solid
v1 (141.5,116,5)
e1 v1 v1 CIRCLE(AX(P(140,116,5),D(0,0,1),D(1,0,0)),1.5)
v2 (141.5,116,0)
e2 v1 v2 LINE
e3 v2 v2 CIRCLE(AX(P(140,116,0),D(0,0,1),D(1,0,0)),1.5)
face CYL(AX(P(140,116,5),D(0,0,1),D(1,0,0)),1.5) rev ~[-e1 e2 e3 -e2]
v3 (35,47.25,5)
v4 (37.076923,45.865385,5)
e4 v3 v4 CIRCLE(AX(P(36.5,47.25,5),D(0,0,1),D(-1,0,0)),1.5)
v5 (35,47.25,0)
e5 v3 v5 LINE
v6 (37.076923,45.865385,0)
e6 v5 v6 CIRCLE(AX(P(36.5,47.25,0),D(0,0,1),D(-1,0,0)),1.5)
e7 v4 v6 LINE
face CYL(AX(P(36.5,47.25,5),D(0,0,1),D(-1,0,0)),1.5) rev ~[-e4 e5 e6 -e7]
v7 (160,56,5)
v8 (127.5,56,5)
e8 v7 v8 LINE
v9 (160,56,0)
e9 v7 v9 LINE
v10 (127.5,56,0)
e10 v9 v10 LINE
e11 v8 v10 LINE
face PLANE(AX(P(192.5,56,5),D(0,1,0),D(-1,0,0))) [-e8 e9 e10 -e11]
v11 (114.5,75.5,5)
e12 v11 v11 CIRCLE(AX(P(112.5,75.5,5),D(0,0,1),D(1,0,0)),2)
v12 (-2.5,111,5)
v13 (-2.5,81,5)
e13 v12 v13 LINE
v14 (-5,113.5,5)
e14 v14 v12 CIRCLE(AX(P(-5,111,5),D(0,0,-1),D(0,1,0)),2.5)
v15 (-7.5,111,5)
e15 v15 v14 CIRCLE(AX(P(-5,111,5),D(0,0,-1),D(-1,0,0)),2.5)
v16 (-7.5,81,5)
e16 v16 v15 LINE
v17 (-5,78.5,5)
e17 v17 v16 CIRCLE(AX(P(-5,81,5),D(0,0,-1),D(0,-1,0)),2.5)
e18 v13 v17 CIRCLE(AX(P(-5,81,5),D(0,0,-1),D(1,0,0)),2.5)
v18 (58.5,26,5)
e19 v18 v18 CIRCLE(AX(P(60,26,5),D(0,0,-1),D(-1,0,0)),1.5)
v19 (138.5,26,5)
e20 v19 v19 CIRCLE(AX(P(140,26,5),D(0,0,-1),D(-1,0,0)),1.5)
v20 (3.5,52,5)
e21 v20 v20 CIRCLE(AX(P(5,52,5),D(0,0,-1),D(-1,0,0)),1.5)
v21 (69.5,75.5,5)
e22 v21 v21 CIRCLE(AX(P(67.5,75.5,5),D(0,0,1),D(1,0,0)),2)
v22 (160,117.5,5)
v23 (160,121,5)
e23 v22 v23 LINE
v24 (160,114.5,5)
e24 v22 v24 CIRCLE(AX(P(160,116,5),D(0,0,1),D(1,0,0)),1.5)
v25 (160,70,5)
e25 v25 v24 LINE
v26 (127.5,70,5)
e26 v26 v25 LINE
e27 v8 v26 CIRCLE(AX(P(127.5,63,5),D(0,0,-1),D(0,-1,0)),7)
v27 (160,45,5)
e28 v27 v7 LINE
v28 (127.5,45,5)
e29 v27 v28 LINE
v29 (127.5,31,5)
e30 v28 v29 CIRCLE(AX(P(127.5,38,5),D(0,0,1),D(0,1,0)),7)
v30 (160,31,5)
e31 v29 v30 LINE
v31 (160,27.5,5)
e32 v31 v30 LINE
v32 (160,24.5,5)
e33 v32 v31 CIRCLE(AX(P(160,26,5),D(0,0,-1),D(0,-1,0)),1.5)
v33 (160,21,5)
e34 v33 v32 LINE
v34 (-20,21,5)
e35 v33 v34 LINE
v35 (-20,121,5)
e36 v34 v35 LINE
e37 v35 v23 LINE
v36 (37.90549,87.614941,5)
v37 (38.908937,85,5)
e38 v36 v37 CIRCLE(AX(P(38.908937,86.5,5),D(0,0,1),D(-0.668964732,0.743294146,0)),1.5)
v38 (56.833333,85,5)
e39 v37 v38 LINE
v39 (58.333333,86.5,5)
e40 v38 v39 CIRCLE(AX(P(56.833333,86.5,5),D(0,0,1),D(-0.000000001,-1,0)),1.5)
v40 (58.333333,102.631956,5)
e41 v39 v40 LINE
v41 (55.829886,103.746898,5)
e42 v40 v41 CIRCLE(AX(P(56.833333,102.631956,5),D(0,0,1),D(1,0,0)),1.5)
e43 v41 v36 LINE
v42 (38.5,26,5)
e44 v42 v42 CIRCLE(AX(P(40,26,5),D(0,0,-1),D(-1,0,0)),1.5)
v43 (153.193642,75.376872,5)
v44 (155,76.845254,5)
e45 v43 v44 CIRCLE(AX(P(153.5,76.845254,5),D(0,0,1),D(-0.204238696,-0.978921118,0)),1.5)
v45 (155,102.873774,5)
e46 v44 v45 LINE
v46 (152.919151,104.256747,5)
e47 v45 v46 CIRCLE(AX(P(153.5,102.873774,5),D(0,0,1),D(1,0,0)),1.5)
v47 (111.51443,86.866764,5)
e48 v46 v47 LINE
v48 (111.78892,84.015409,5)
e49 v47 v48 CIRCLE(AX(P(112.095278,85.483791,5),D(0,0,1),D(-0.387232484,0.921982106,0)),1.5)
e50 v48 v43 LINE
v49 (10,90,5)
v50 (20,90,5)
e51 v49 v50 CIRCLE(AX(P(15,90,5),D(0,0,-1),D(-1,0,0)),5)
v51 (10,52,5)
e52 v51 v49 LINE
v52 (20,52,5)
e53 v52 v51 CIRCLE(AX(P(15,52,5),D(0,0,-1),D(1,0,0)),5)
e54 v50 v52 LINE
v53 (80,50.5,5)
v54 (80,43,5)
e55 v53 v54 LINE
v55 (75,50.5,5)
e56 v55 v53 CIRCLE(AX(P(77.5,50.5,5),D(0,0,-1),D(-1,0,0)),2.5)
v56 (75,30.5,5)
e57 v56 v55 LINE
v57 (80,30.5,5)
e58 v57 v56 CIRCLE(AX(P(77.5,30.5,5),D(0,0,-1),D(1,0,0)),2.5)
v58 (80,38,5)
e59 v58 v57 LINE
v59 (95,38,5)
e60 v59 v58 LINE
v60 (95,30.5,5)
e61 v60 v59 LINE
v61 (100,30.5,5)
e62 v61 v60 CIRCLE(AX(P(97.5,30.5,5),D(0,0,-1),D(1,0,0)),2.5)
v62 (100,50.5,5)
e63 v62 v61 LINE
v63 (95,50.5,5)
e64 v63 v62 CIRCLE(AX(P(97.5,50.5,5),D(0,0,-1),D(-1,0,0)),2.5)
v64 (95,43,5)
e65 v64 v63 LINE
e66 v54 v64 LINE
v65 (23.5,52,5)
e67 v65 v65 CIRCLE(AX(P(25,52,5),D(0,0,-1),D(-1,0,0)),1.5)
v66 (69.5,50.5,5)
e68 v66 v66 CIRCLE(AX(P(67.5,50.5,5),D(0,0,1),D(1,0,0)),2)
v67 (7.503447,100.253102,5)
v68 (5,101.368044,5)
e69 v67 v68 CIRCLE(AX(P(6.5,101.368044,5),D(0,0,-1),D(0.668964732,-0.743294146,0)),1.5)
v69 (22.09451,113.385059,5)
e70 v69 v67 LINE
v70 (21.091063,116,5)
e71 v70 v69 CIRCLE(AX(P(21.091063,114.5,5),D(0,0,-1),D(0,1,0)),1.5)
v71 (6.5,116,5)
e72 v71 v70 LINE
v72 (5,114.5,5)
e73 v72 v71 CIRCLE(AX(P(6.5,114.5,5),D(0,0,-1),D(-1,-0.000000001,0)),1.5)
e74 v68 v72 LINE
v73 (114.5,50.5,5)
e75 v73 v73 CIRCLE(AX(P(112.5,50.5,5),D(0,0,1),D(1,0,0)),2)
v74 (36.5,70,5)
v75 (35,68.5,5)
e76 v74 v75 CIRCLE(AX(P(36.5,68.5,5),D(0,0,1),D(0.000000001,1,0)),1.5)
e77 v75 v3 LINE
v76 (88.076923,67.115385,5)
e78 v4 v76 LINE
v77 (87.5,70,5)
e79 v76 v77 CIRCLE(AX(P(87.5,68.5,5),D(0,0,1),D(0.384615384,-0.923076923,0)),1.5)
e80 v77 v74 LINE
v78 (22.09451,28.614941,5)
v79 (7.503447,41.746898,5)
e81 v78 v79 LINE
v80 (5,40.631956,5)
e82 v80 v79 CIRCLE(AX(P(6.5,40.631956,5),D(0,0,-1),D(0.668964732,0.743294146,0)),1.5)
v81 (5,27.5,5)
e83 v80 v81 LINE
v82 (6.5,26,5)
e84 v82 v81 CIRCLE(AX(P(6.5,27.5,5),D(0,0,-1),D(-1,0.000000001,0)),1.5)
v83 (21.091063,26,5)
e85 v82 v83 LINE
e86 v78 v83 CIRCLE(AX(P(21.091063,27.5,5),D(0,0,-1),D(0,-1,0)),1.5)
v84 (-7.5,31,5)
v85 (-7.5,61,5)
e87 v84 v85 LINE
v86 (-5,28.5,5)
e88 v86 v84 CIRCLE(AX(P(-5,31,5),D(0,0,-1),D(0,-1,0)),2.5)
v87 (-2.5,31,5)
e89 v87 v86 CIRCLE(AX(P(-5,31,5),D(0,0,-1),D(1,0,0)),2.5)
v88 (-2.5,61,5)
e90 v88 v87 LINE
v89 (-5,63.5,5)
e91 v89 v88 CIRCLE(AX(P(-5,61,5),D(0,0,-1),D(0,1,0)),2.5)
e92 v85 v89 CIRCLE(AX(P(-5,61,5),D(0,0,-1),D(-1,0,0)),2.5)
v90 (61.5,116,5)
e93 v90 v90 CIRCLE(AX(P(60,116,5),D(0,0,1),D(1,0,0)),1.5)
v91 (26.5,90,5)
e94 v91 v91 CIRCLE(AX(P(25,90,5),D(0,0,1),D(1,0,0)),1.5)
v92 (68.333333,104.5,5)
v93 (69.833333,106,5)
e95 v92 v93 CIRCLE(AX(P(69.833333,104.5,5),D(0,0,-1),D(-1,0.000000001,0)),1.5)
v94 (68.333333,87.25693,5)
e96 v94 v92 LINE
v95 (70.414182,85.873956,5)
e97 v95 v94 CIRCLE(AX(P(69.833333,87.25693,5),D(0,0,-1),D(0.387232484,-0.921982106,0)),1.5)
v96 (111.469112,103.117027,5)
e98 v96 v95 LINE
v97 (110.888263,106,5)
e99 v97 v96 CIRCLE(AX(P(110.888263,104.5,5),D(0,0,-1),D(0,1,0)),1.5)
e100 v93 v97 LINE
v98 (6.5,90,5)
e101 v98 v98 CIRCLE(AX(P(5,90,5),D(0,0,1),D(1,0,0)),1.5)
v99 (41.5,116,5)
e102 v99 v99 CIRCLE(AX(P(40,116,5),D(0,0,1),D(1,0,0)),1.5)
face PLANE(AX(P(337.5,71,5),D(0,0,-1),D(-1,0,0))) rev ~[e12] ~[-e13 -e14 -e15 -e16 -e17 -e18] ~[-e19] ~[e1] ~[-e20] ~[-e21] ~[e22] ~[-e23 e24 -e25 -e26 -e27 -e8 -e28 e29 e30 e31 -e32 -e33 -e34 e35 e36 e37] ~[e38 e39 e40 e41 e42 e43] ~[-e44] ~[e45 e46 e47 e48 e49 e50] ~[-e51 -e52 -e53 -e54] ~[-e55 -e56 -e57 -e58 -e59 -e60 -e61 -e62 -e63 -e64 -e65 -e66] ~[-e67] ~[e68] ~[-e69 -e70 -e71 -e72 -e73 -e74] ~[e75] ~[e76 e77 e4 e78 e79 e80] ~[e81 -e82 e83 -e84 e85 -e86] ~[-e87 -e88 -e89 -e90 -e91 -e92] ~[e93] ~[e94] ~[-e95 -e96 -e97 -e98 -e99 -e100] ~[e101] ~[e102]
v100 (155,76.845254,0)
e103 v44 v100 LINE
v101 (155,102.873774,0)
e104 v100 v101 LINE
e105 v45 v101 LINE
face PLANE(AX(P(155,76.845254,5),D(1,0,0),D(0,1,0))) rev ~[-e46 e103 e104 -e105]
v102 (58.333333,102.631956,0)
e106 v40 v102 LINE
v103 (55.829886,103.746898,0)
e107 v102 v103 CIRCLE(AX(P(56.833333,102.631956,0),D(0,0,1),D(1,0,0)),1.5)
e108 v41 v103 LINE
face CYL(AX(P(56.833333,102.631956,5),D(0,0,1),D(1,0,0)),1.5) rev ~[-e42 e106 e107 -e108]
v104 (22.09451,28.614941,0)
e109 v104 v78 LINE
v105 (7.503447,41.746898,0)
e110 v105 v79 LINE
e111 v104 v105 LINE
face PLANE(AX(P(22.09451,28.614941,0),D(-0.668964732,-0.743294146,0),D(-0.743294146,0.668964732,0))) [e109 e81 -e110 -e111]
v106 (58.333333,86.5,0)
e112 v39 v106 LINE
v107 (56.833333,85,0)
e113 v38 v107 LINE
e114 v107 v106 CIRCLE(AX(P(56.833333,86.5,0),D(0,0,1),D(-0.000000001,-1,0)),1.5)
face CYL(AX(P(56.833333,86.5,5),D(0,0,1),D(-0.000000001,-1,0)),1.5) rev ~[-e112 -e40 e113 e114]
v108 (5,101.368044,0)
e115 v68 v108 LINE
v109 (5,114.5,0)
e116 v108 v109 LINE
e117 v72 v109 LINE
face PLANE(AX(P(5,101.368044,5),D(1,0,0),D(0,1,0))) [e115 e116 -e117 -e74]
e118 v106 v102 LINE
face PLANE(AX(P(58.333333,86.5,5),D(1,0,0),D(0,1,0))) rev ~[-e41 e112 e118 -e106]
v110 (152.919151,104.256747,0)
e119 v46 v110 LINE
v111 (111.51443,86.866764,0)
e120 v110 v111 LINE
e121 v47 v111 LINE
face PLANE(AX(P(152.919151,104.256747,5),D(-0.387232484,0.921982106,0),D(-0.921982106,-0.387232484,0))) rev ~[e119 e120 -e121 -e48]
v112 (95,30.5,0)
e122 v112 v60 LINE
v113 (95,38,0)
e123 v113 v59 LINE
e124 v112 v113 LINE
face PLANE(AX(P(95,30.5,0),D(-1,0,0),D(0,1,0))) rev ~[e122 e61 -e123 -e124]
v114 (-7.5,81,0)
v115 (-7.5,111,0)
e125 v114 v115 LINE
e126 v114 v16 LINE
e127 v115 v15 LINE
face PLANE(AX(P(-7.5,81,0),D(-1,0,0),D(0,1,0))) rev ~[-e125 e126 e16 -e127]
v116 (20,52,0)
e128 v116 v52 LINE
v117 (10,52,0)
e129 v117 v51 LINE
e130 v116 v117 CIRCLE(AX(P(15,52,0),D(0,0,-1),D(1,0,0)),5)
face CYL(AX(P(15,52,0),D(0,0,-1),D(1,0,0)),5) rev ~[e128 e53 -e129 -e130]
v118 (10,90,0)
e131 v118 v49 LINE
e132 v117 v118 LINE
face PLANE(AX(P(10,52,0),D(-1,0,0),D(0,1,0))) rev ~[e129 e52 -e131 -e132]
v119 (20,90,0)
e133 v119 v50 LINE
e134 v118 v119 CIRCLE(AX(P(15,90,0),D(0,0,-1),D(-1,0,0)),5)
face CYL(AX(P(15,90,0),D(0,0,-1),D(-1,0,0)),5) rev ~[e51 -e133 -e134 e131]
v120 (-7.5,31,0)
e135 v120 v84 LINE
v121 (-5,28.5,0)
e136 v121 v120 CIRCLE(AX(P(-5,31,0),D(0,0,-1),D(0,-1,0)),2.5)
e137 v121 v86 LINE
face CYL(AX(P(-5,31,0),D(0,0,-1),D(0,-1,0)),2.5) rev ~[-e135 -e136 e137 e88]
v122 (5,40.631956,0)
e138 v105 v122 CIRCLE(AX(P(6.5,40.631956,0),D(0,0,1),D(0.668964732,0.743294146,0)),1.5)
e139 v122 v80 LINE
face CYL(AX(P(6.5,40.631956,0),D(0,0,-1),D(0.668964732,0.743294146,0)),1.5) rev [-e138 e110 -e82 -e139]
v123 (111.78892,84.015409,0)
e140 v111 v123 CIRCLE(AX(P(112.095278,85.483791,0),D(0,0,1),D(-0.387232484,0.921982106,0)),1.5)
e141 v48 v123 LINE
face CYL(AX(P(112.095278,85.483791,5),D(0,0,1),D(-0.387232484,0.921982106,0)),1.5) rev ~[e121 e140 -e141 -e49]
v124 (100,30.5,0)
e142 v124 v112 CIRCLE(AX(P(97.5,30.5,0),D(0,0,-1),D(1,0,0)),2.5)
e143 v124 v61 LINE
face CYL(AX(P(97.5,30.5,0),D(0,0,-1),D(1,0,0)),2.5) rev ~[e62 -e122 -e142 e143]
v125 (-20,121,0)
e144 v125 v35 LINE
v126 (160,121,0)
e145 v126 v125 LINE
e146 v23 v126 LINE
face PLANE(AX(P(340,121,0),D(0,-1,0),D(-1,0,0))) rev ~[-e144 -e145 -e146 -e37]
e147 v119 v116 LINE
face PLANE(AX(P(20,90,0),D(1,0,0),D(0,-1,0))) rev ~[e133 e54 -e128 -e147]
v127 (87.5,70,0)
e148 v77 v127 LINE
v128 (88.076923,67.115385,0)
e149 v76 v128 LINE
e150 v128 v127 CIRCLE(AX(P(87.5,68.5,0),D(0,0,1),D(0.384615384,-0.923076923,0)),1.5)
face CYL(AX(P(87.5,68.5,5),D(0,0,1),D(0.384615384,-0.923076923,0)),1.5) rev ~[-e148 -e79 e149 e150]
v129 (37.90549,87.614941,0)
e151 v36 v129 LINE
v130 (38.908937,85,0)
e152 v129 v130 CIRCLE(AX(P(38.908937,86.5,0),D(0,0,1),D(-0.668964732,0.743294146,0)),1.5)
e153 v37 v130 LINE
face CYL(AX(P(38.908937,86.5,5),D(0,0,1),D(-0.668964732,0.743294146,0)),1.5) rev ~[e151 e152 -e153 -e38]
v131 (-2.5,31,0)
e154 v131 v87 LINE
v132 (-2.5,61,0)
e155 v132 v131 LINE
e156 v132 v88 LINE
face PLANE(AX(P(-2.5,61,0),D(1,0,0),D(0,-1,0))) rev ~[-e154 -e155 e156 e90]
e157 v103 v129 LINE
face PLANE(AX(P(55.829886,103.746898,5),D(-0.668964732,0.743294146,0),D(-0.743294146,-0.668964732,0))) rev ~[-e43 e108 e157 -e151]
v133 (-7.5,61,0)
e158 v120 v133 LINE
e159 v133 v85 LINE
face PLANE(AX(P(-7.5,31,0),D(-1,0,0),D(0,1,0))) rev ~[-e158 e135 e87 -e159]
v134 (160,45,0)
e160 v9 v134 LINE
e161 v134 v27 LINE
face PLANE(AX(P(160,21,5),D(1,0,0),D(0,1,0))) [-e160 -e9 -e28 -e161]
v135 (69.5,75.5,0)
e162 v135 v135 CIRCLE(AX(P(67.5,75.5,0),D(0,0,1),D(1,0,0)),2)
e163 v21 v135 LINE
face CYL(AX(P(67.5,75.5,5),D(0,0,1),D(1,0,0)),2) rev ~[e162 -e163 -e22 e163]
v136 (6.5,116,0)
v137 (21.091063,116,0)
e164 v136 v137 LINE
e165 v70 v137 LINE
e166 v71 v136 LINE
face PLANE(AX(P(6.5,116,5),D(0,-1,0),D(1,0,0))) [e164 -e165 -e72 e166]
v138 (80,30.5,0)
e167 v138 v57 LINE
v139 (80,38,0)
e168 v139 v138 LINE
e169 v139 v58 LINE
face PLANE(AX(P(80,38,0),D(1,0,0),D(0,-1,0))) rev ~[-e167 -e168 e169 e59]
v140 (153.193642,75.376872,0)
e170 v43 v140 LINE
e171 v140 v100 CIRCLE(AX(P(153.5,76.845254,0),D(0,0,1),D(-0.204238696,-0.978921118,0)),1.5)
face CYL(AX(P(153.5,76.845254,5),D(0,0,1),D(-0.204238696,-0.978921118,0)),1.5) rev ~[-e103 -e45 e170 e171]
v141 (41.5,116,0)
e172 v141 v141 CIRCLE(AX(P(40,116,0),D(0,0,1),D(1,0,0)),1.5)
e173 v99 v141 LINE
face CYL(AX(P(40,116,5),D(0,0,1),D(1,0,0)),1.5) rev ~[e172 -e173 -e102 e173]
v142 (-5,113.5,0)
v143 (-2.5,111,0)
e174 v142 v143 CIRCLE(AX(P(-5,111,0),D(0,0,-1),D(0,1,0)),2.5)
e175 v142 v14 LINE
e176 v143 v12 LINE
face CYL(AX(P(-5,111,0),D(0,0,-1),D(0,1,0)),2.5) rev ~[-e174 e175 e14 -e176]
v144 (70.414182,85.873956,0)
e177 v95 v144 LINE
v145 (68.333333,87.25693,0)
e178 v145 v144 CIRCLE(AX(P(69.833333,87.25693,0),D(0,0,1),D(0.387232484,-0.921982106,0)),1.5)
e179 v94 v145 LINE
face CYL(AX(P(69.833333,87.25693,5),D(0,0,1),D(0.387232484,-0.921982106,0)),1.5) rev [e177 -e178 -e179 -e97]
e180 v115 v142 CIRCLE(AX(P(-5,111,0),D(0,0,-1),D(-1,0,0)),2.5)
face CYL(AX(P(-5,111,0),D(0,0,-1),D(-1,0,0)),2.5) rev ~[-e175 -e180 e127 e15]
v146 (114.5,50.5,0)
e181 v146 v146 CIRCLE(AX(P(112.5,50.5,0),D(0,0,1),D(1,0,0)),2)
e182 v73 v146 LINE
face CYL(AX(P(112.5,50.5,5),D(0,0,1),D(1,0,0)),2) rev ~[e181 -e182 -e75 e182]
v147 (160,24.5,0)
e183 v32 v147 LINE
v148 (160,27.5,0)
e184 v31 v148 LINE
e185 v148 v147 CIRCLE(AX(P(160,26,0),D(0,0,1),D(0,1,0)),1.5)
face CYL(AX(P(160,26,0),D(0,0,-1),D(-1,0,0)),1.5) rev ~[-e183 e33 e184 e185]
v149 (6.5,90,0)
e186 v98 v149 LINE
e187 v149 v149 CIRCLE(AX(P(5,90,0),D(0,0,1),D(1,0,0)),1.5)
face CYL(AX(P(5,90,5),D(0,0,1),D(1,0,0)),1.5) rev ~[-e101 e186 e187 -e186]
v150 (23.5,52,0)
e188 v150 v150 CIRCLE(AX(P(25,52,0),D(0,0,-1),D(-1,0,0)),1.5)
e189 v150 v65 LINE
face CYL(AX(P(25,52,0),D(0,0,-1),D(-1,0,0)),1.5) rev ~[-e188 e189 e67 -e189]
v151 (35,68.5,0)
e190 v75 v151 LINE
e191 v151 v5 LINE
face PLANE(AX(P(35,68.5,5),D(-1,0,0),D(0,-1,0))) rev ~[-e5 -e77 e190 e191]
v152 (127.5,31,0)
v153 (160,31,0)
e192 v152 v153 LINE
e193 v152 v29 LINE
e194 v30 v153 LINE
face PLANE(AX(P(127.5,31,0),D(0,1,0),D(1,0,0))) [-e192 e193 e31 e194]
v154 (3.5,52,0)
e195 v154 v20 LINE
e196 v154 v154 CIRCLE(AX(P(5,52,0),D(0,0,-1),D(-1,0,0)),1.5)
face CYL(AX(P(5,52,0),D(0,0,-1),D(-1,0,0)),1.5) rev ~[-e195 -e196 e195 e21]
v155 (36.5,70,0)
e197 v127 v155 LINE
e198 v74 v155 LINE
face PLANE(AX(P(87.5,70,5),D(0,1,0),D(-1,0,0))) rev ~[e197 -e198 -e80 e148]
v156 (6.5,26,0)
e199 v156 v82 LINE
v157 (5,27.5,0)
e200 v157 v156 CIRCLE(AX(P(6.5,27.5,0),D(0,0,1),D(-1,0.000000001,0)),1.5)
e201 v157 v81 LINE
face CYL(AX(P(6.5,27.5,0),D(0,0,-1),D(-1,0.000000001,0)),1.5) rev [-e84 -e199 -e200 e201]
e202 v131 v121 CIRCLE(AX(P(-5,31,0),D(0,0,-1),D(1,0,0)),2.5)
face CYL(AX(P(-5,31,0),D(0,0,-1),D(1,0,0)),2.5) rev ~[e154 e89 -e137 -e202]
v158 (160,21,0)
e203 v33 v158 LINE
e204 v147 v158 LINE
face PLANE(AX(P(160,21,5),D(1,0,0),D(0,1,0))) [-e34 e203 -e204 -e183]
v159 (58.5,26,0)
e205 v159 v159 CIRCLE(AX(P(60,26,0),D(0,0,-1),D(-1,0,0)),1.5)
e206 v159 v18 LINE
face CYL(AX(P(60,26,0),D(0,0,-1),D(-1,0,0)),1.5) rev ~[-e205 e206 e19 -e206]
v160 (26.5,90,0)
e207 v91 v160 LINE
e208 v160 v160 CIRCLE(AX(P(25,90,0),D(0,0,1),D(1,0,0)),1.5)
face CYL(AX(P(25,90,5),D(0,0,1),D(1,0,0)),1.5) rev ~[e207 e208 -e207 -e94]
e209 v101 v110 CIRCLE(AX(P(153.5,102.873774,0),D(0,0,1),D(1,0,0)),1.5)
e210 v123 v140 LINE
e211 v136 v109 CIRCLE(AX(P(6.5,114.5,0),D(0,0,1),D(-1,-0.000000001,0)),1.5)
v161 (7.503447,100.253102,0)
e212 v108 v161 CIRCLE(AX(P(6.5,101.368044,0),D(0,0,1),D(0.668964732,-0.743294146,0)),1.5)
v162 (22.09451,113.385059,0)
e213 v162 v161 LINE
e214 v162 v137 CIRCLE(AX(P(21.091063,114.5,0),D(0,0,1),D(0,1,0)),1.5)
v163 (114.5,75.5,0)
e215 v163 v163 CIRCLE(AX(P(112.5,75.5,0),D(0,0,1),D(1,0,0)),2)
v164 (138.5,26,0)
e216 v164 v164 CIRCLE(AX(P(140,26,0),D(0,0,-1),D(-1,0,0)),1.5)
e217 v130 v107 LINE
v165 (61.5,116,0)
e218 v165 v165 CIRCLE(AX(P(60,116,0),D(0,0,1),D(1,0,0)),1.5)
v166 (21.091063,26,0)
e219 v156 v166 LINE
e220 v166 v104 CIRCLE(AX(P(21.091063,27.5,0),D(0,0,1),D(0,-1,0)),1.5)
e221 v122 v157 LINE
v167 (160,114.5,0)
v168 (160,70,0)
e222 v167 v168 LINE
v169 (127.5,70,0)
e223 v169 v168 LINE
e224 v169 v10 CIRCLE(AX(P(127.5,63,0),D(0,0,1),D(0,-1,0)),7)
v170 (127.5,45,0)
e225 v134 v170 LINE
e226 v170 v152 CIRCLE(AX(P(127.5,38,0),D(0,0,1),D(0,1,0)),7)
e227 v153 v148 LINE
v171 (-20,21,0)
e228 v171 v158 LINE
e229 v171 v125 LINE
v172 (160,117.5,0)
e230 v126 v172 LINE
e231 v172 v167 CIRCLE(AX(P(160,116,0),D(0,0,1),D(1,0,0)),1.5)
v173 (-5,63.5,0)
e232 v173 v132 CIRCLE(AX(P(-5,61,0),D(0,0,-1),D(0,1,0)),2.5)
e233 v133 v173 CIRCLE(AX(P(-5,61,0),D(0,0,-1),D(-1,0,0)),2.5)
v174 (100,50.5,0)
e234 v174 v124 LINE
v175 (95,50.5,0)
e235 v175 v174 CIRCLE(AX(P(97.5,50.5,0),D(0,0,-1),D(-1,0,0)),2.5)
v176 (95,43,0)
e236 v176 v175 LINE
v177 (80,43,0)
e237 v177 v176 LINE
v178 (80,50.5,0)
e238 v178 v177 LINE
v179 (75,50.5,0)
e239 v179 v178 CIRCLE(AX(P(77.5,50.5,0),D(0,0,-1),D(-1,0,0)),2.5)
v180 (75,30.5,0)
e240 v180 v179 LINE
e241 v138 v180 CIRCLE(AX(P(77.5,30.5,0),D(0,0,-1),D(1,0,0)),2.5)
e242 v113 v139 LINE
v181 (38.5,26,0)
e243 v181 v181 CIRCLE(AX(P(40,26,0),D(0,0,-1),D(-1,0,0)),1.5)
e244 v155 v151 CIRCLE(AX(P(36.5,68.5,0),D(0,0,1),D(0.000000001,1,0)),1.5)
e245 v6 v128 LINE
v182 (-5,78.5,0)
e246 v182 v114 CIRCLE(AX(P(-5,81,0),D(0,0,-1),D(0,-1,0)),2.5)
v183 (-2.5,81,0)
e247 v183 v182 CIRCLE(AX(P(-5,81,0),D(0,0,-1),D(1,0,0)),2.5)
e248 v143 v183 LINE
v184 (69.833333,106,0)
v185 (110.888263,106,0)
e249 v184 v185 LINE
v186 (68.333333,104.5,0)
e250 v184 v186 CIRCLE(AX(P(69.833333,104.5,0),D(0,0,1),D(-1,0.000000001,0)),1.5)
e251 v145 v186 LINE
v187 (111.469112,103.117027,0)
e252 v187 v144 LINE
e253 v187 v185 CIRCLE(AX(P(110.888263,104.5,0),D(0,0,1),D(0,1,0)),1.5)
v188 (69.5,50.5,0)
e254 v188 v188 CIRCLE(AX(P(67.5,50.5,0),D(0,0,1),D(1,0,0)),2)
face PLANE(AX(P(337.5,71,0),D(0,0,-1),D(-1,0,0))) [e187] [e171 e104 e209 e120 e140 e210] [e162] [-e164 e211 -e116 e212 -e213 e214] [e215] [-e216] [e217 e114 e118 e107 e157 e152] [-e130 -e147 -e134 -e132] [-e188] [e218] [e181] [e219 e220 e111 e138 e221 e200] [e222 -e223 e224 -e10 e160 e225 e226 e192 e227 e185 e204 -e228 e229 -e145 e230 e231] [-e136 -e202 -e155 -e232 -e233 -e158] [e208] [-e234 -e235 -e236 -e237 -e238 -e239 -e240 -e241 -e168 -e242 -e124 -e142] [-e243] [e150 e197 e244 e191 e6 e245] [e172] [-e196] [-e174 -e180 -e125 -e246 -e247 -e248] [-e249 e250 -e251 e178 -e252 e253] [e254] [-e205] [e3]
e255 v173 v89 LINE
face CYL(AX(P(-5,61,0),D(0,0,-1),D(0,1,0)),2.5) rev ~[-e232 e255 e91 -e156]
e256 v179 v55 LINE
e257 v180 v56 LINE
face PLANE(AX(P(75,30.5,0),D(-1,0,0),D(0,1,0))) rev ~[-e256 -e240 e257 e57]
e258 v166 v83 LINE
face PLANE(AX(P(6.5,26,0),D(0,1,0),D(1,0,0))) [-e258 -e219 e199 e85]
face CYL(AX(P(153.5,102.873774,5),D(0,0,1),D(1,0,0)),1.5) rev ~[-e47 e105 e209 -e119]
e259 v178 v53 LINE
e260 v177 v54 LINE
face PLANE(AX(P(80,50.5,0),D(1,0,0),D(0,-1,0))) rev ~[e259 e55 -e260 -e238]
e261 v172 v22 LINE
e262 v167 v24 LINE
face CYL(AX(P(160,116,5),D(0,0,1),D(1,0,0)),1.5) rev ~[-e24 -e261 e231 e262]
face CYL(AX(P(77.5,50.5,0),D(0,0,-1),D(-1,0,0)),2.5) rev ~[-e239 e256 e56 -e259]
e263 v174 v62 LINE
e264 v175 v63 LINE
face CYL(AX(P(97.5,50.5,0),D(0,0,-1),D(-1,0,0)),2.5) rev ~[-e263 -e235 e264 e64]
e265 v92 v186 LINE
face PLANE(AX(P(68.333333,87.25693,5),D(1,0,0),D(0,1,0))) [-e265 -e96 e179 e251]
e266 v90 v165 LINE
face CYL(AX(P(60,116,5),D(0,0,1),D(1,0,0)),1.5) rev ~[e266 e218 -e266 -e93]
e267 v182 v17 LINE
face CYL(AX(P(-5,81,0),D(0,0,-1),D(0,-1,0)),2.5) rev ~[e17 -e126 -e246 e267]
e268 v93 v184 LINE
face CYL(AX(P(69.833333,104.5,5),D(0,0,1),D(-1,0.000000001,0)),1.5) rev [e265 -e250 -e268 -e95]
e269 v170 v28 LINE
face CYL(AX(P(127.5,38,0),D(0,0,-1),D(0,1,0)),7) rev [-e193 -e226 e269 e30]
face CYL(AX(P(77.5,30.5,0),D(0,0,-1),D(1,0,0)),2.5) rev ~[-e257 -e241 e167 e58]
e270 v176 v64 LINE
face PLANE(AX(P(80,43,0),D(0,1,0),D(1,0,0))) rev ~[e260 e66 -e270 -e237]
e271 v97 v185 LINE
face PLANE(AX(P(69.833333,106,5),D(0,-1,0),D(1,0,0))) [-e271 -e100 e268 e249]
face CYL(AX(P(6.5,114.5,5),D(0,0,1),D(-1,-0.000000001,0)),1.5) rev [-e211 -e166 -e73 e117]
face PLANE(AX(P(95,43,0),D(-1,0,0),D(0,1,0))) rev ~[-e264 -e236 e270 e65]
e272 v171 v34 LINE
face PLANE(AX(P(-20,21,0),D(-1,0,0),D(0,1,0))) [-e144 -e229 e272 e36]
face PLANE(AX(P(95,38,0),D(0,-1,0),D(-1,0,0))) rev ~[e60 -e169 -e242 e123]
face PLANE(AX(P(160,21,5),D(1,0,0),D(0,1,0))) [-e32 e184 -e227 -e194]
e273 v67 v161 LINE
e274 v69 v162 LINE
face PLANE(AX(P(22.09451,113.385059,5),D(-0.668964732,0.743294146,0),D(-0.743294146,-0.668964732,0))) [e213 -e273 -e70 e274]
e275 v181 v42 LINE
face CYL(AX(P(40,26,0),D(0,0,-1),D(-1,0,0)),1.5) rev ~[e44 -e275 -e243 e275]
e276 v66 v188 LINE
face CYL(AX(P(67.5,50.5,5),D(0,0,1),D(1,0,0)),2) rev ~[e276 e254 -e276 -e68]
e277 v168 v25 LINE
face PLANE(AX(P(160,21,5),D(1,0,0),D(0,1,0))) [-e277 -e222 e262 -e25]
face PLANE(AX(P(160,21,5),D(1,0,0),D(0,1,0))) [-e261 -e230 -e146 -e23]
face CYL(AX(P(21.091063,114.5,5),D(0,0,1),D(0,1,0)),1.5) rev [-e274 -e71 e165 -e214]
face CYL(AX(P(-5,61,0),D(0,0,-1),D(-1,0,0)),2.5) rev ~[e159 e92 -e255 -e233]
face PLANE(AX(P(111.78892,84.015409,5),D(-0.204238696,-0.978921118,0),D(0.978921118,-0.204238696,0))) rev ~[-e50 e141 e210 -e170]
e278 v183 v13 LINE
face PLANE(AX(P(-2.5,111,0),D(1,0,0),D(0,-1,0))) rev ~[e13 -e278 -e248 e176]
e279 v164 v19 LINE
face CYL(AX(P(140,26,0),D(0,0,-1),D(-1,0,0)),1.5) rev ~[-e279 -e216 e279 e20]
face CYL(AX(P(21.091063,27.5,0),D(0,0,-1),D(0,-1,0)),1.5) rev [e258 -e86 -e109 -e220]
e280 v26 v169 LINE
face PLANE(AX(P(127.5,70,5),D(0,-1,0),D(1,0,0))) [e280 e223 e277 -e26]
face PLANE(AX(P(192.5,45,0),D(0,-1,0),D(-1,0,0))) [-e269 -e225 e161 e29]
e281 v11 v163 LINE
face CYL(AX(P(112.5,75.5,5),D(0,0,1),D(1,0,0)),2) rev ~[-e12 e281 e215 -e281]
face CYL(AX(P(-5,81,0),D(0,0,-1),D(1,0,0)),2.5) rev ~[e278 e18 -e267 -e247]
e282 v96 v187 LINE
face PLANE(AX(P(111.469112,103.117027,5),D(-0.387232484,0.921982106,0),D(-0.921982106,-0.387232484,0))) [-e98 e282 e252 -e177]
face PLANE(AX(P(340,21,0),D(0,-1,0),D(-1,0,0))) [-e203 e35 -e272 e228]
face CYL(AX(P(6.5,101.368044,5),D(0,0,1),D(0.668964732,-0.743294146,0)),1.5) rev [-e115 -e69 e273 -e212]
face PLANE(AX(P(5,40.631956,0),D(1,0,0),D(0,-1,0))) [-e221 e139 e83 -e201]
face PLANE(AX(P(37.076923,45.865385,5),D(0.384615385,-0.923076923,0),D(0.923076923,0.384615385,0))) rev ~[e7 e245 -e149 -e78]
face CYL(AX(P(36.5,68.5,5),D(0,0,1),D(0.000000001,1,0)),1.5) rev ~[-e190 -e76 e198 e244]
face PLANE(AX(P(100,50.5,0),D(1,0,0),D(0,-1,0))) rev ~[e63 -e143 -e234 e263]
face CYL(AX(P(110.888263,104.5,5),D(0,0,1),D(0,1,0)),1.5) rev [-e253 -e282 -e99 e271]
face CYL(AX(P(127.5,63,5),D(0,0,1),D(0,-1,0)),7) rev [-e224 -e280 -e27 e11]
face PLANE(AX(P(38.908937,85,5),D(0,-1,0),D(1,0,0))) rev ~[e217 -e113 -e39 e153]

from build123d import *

# Parameters (mm, degrees)
SKETCH_1_W           = 320
SKETCH_1_H           = 121
EXTRUDE_1_DEPTH      = 5
SKETCH_2_W           = 5
SKETCH_2_H           = 30
CUT_EXTRUDE_1_DEPTH  = 343.14909031
SKETCH_3_R           = 1.5
CUT_EXTRUDE_2_DEPTH  = 343.14909031
SKETCH_4_R           = 1.5
CUT_EXTRUDE_3_DEPTH  = 343.14909031
SKETCH_6_R           = 2
CUT_EXTRUDE_5_DEPTH  = 343.14909031
SKETCH_5_W           = 250
SKETCH_5_H           = 30
CUT_EXTRUDE_4_DEPTH  = 343.14909031
SKETCH_7_W           = 260
SKETCH_7_H           = 30
EXTRUDE_2_DEPTH      = 5
SKETCH_8_W           = 320
SKETCH_8_H           = 21
CUT_EXTRUDE_6_DEPTH  = 5
SKETCH_9_W           = 15
SKETCH_9_H           = 100
EXTRUDE_3_DEPTH      = 5
CUT_EXTRUDE_7_DEPTH  = 5
CUT_EXTRUDE_8_DEPTH  = 5
SKETCH_15_R          = 1.5
CUT_EXTRUDE_9_DEPTH  = 357.217630108
SKETCH_16_W          = 5
SKETCH_16_H          = 19
CUT_EXTRUDE_10_DEPTH = 357.217630108
SKETCH_17_W          = 15
SKETCH_17_H          = 5
SKETCH_17_W_2        = 2.5
SKETCH_17_H_2        = 7.5
SKETCH_17_H_3        = 2.5
CUT_EXTRUDE_11_DEPTH = 357.217630108
SKETCH_18_W          = 5
SKETCH_18_H          = 100
EXTRUDE_4_DEPTH      = 5
SKETCH_19_W          = 180
SKETCH_19_H          = 100
CUT_EXTRUDE_13_DEPTH = 10
CUT_EXTRUDE_14_DEPTH = 10


with BuildPart() as part:
    # 草图1 → 凸台-拉伸1 (new body)
    with BuildSketch(Plane.XY):
        with Locations((160, 60.5)):
            Rectangle(SKETCH_1_W, SKETCH_1_H)
    extrude(amount=EXTRUDE_1_DEPTH)

    # 草图2 → 切除-拉伸1 (cut, through all)
    with BuildSketch(Plane.XY.offset(5)):
        with Locations((32.5, 15)):
            Rectangle(SKETCH_2_W, SKETCH_2_H)
        with Locations((287.5, 15)):
            Rectangle(SKETCH_2_W, SKETCH_2_H)
    extrude(amount=-CUT_EXTRUDE_1_DEPTH, mode=Mode.SUBTRACT)

    # 草图3 → 切除-拉伸2 (cut, through all)
    with BuildSketch(Plane.XY.offset(5)):
        with Locations((40, 116)):
            Circle(SKETCH_3_R)
        with Locations((60, 116)):
            Circle(SKETCH_3_R)
        with Locations((140, 116)):
            Circle(SKETCH_3_R)
        with Locations((160, 116)):
            Circle(SKETCH_3_R)
        with Locations(Location((260, 116, 0), (0, 0, 180))):
            Circle(SKETCH_3_R)
        with Locations(Location((280, 116, 0), (0, 0, 180))):
            Circle(SKETCH_3_R)
        with Locations(Location((180, 116, 0), (0, 0, 180))):
            Circle(SKETCH_3_R)
    extrude(amount=-CUT_EXTRUDE_2_DEPTH, mode=Mode.SUBTRACT)

    # 草图4 → 切除-拉伸3 (cut, through all)
    with BuildSketch(Plane.XY.offset(5)):
        with Locations((5, 90)):
            Circle(SKETCH_4_R)
        with Locations((25, 90)):
            Circle(SKETCH_4_R)
        with Locations((5, 10)):
            Circle(SKETCH_4_R)
        with Locations((25, 10)):
            Circle(SKETCH_4_R)
        with Locations(Location((295, 10, 0), (0, 0, 180))):
            Circle(SKETCH_4_R)
        with Locations(Location((315, 10, 0), (0, 0, 180))):
            Circle(SKETCH_4_R)
        with Locations(Location((295, 90, 0), (0, 0, 180))):
            Circle(SKETCH_4_R)
        with Locations(Location((315, 90, 0), (0, 0, 180))):
            Circle(SKETCH_4_R)
    extrude(amount=-CUT_EXTRUDE_3_DEPTH, mode=Mode.SUBTRACT)

    # 草图6 → 切除-拉伸5 (cut, through all)
    with BuildSketch(Plane.XY.offset(5)):
        with Locations((112.5, 75.5)):
            Circle(SKETCH_6_R)
        with Locations((207.5, 75.5)):
            Circle(SKETCH_6_R)
        with Locations((207.5, 50.5)):
            Circle(SKETCH_6_R)
        with Locations((112.5, 50.5)):
            Circle(SKETCH_6_R)
        with BuildLine():
            Line((127.5, 70), (192.5, 70))
            ThreePointArc((192.5, 70), (199.5, 63), (192.5, 56))
            Line((192.5, 56), (127.5, 56))
            ThreePointArc((127.5, 56), (120.5, 63), (127.5, 70))
        make_face()
    extrude(amount=-CUT_EXTRUDE_5_DEPTH, mode=Mode.SUBTRACT)

    # 草图5 → 切除-拉伸4 (cut, through all)
    with BuildSketch(Plane.XY.offset(5)):
        with BuildLine():
            Line((5, 101.368043607), (5, 114.5))
            ThreePointArc((5, 114.5), (5.439339828, 115.560660172), (6.5, 116))
            Line((6.5, 116), (21.091062659, 116))
            ThreePointArc((21.091062659, 116), (22.491493276, 115.037395651), (22.094509756, 113.385058781))
            Line((22.094509756, 113.385058781), (7.503447097, 100.253102388))
            ThreePointArc((7.503447097, 100.253102388), (5.889742123, 99.997793512), (5, 101.368043607))
        make_face()
        with BuildLine():
            Line((38.908937341, 85), (56.833333333, 85))
            ThreePointArc((56.833333333, 85), (57.893993505, 85.439339828), (58.333333333, 86.5))
            Line((58.333333333, 86.5), (58.333333333, 102.631956393))
            ThreePointArc((58.333333333, 102.631956393), (57.443591211, 104.002206488), (55.829886236, 103.746897612))
            Line((55.829886236, 103.746897612), (37.905490244, 87.614941219))
            ThreePointArc((37.905490244, 87.614941219), (37.508506724, 85.962604349), (38.908937341, 85))
        make_face()
        with BuildLine():
            Line((35, 68.5), (35, 47.25))
            ThreePointArc((35, 47.25), (35.667949706, 46.001924558), (37.076923077, 45.865384615))
            Line((37.076923077, 45.865384615), (88.076923077, 67.115384615))
            ThreePointArc((88.076923077, 67.115384615), (88.970871014, 68.794174203), (87.5, 70))
            Line((87.5, 70), (36.5, 70))
            ThreePointArc((36.5, 70), (35.439339828, 69.560660172), (35, 68.5))
        make_face()
        with Locations((160, 15)):
            Rectangle(SKETCH_5_W, SKETCH_5_H)
        with BuildLine():
            Line((68.333333333, 87.256929624), (68.333333333, 104.5))
            ThreePointArc((68.333333333, 104.5), (68.772673162, 105.560660172), (69.833333333, 106))
            Line((69.833333333, 106), (110.888262801, 106))
            ThreePointArc((110.888262801, 106), (112.358715068, 104.796260242), (111.469111528, 103.117026842))
            Line((111.469111528, 103.117026842), (70.41418206, 85.873956465))
            ThreePointArc((70.41418206, 85.873956465), (69.00305419, 86.007675228), (68.333333333, 87.256929624))
        make_face()
        with BuildLine():
            Line((111.788920254, 84.01540935), (153.193641955, 75.376872258))
            ThreePointArc((153.193641955, 75.376872258), (154.446166722, 75.68130869), (155, 76.845253935))
            Line((155, 76.845253935), (155, 102.873774141))
            ThreePointArc((155, 102.873774141), (154.330279143, 104.123028536), (152.919151273, 104.256747299))
            Line((152.919151273, 104.256747299), (111.514429572, 86.866764185))
            ThreePointArc((111.514429572, 86.866764185), (110.602180826, 85.340055375), (111.788920254, 84.01540935))
        make_face()
        with BuildLine():
            Line((167.080848727, 104.256747299), (208.485570428, 86.866764185))
            ThreePointArc((208.485570428, 86.866764185), (209.397819174, 85.340055375), (208.211079746, 84.01540935))
            Line((208.211079746, 84.01540935), (166.806358045, 75.376872258))
            ThreePointArc((166.806358045, 75.376872258), (165.553833278, 75.68130869), (165, 76.845253935))
            Line((165, 76.845253935), (165, 102.873774141))
            ThreePointArc((165, 102.873774141), (165.669720857, 104.123028536), (167.080848727, 104.256747299))
        make_face()
        with BuildLine():
            Line((208.530888472, 103.117026842), (249.58581794, 85.873956465))
            ThreePointArc((249.58581794, 85.873956465), (250.99694581, 86.007675228), (251.666666667, 87.256929624))
            Line((251.666666667, 87.256929624), (251.666666667, 104.5))
            ThreePointArc((251.666666667, 104.5), (251.227326838, 105.560660172), (250.166666667, 106))
            Line((250.166666667, 106), (209.111737199, 106))
            ThreePointArc((209.111737199, 106), (207.641284932, 104.796260242), (208.530888472, 103.117026842))
        make_face()
        with BuildLine():
            Line((232.5, 70), (283.5, 70))
            ThreePointArc((283.5, 70), (284.560660172, 69.560660172), (285, 68.5))
            Line((285, 68.5), (285, 47.25))
            ThreePointArc((285, 47.25), (284.332050294, 46.001924558), (282.923076923, 45.865384615))
            Line((282.923076923, 45.865384615), (231.923076923, 67.115384615))
            ThreePointArc((231.923076923, 67.115384615), (231.029128986, 68.794174203), (232.5, 70))
        make_face()
        with BuildLine():
            Line((264.170113764, 103.746897612), (282.094509756, 87.614941219))
            ThreePointArc((282.094509756, 87.614941219), (282.491493276, 85.962604349), (281.091062659, 85))
            Line((281.091062659, 85), (263.166666667, 85))
            ThreePointArc((263.166666667, 85), (262.106006495, 85.439339828), (261.666666667, 86.5))
            Line((261.666666667, 86.5), (261.666666667, 102.631956393))
            ThreePointArc((261.666666667, 102.631956393), (262.556408789, 104.002206488), (264.170113764, 103.746897612))
        make_face()
        with BuildLine():
            Line((297.905490244, 113.385058781), (312.496552903, 100.253102388))
            ThreePointArc((312.496552903, 100.253102388), (314.110257877, 99.997793512), (315, 101.368043607))
            Line((315, 101.368043607), (315, 114.5))
            ThreePointArc((315, 114.5), (314.560660172, 115.560660172), (313.5, 116))
            Line((313.5, 116), (298.908937341, 116))
            ThreePointArc((298.908937341, 116), (297.508506724, 115.037395651), (297.905490244, 113.385058781))
        make_face()
    extrude(amount=-CUT_EXTRUDE_4_DEPTH, mode=Mode.SUBTRACT)

    # 草图7 → 凸台-拉伸2 (add)
    with BuildSketch(Plane(origin=(0, 0, 0), x_dir=(-1, 0, 0), z_dir=(0, 0, -1))):
        with Locations((-160, 15)):
            Rectangle(SKETCH_7_W, SKETCH_7_H)
    extrude(amount=-EXTRUDE_2_DEPTH)

    # 草图8 → 切除-拉伸6 (cut)
    with BuildSketch(Plane(origin=(0, 0, 0), x_dir=(-1, 0, 0), z_dir=(0, 0, -1))):
        with Locations((-160, 10.5)):
            Rectangle(SKETCH_8_W, SKETCH_8_H)
    extrude(amount=-CUT_EXTRUDE_6_DEPTH, mode=Mode.SUBTRACT)

    # 草图9 → 凸台-拉伸3 (add)
    with BuildSketch(Plane(origin=(0, 0, 0), x_dir=(-1, 0, 0), z_dir=(0, 0, -1))):
        with Locations((-327.5, 71)):
            Rectangle(SKETCH_9_W, SKETCH_9_H)
        with Locations((7.5, 71)):
            Rectangle(SKETCH_9_W, SKETCH_9_H)
    extrude(amount=-EXTRUDE_3_DEPTH)

    # 草图10 → 切除-拉伸7 (cut)
    with BuildSketch(Plane(origin=(0, 0, 0), x_dir=(-1, 0, 0), z_dir=(0, 0, -1))):
        with BuildLine():
            Line((-325, 111), (-325, 81))
            Line((-325, 81), (-325, 78.5))
            ThreePointArc((-325, 78.5), (-323.232233047, 79.232233047), (-322.5, 81))
            Line((-322.5, 81), (-322.5, 111))
            ThreePointArc((-322.5, 111), (-323.232233047, 112.767766953), (-325, 113.5))
            Line((-325, 113.5), (-325, 111))
        make_face()
        with BuildLine():
            Line((-325, 78.5), (-325, 81))
            Line((-325, 81), (-325, 111))
            Line((-325, 111), (-325, 113.5))
            ThreePointArc((-325, 113.5), (-326.767766953, 112.767766953), (-327.5, 111))
            Line((-327.5, 111), (-327.5, 81))
            ThreePointArc((-327.5, 81), (-326.767766953, 79.232233047), (-325, 78.5))
        make_face()
        with BuildLine():
            ThreePointArc((-322.5, 61), (-323.232233047, 62.767766953), (-325, 63.5))
            Line((-325, 63.5), (-325, 61))
            Line((-325, 61), (-325, 31))
            Line((-325, 31), (-325, 28.5))
            ThreePointArc((-325, 28.5), (-323.232233047, 29.232233047), (-322.5, 31))
            Line((-322.5, 31), (-322.5, 61))
        make_face()
        with BuildLine():
            Line((-325, 61), (-325, 63.5))
            ThreePointArc((-325, 63.5), (-326.767766953, 62.767766953), (-327.5, 61))
            Line((-327.5, 61), (-327.5, 31))
            ThreePointArc((-327.5, 31), (-326.767766953, 29.232233047), (-325, 28.5))
            Line((-325, 28.5), (-325, 31))
            Line((-325, 31), (-325, 61))
        make_face()
        with BuildLine():
            Line((5, 113.5), (5, 78.5))
            ThreePointArc((5, 78.5), (6.767766953, 79.232233047), (7.5, 81))
            Line((7.5, 81), (7.5, 111))
            ThreePointArc((7.5, 111), (6.767766953, 112.767766953), (5, 113.5))
        make_face()
        with BuildLine():
            ThreePointArc((2.5, 81), (3.232233047, 79.232233047), (5, 78.5))
            Line((5, 78.5), (5, 113.5))
            ThreePointArc((5, 113.5), (3.232233047, 112.767766953), (2.5, 111))
            Line((2.5, 111), (2.5, 81))
        make_face()
        with BuildLine():
            ThreePointArc((7.5, 61), (6.767766953, 62.767766953), (5, 63.5))
            Line((5, 63.5), (5, 28.5))
            ThreePointArc((5, 28.5), (6.767766953, 29.232233047), (7.5, 31))
            Line((7.5, 31), (7.5, 61))
        make_face()
        with BuildLine():
            Line((5, 28.5), (5, 63.5))
            ThreePointArc((5, 63.5), (3.232233047, 62.767766953), (2.5, 61))
            Line((2.5, 61), (2.5, 31))
            ThreePointArc((2.5, 31), (3.232233047, 29.232233047), (5, 28.5))
        make_face()
    extrude(amount=-CUT_EXTRUDE_7_DEPTH, mode=Mode.SUBTRACT)

    # 草图13 → 切除-拉伸8 (cut)
    with BuildSketch(Plane(origin=(0, 0, 0), x_dir=(-1, 0, 0), z_dir=(0, 0, -1))):
        with BuildLine():
            Line((-192.5, 45), (-127.5, 45))
            ThreePointArc((-127.5, 45), (-120.5, 38), (-127.5, 31))
            Line((-127.5, 31), (-192.5, 31))
            ThreePointArc((-192.5, 31), (-199.5, 38), (-192.5, 45))
        make_face()
    extrude(amount=-CUT_EXTRUDE_8_DEPTH, mode=Mode.SUBTRACT)

    # 草图15 → 切除-拉伸9 (cut, through all)
    with BuildSketch(Plane(origin=(0, 0, 0), x_dir=(-1, 0, 0), z_dir=(0, 0, -1))):
        with Locations((-315, 52)):
            Circle(SKETCH_15_R)
        with BuildLine():
            ThreePointArc((-315, 40.631956393), (-314.110257877, 42.002206488), (-312.496552903, 41.746897612))
            Line((-312.496552903, 41.746897612), (-297.905490244, 28.614941219))
            ThreePointArc((-297.905490244, 28.614941219), (-297.508506724, 26.962604349), (-298.908937341, 26))
            Line((-298.908937341, 26), (-313.5, 26))
            ThreePointArc((-313.5, 26), (-314.560660172, 26.439339828), (-315, 27.5))
            Line((-315, 27.5), (-315, 40.631956393))
        make_face()
        with Locations((-295, 52)):
            Circle(SKETCH_15_R)
        with Locations((-280, 26)):
            Circle(SKETCH_15_R)
        with Locations((-260, 26)):
            Circle(SKETCH_15_R)
        with Locations((-180, 26)):
            Circle(SKETCH_15_R)
        with Locations((-160, 26)):
            Circle(SKETCH_15_R)
        with Locations((-140, 26)):
            Circle(SKETCH_15_R)
        with Locations((-60, 26)):
            Circle(SKETCH_15_R)
        with Locations((-40, 26)):
            Circle(SKETCH_15_R)
        with BuildLine():
            ThreePointArc((-21.091062659, 26), (-22.491493276, 26.962604349), (-22.094509756, 28.614941219))
            Line((-22.094509756, 28.614941219), (-7.503447097, 41.746897612))
            ThreePointArc((-7.503447097, 41.746897612), (-5.889742123, 42.002206488), (-5, 40.631956393))
            Line((-5, 40.631956393), (-5, 27.5))
            ThreePointArc((-5, 27.5), (-5.439339828, 26.439339828), (-6.5, 26))
            Line((-6.5, 26), (-21.091062659, 26))
        make_face()
        with Locations((-5, 52)):
            Circle(SKETCH_15_R)
        with Locations((-25, 52)):
            Circle(SKETCH_15_R)
    extrude(amount=-CUT_EXTRUDE_9_DEPTH, mode=Mode.SUBTRACT)

    # 草图16 → 切除-拉伸10 (cut, through all)
    with BuildSketch(Plane(origin=(0, 0, 0), x_dir=(-1, 0, 0), z_dir=(0, 0, -1))):
        with Locations((-302.5, 61.5)):
            Rectangle(SKETCH_16_W, SKETCH_16_H)
        with BuildLine():
            Line((-305, 52), (-310, 52))
            ThreePointArc((-310, 52), (-305, 47), (-300, 52))
            Line((-300, 52), (-305, 52))
        make_face()
        with Locations((-307.5, 61.5)):
            Rectangle(SKETCH_16_W, SKETCH_16_H)
        with Locations((-302.5, 80.5)):
            Rectangle(SKETCH_16_W, SKETCH_16_H)
        with Locations((-307.5, 80.5)):
            Rectangle(SKETCH_16_W, SKETCH_16_H)
        with BuildLine():
            ThreePointArc((-300, 90), (-305, 95), (-310, 90))
            Line((-310, 90), (-305, 90))
            Line((-305, 90), (-300, 90))
        make_face()
        with BuildLine():
            Line((-10, 71), (-20, 71))
            Line((-20, 71), (-20, 52))
            ThreePointArc((-20, 52), (-15, 47), (-10, 52))
            Line((-10, 52), (-10, 71))
        make_face()
        with BuildLine():
            Line((-20, 90), (-20, 71))
            Line((-20, 71), (-10, 71))
            Line((-10, 71), (-10, 90))
            ThreePointArc((-10, 90), (-15, 95), (-20, 90))
        make_face()
    extrude(amount=-CUT_EXTRUDE_10_DEPTH, mode=Mode.SUBTRACT)

    # 草图17 → 切除-拉伸11 (cut, through all)
    with BuildSketch(Plane(origin=(0, 0, 0), x_dir=(-1, 0, 0), z_dir=(0, 0, -1))):
        with BuildLine():
            Line((-77.5, 38), (-80, 38))
            Line((-80, 38), (-80, 30.5))
            ThreePointArc((-80, 30.5), (-77.5, 28), (-75, 30.5))
            Line((-75, 30.5), (-75, 40.5))
            ThreePointArc((-75, 40.5), (-75.732233047, 38.732233047), (-77.5, 38))
        make_face()
        with BuildLine():
            Line((-77.5, 43), (-80, 43))
            Line((-80, 43), (-80, 38))
            Line((-80, 38), (-77.5, 38))
            ThreePointArc((-77.5, 38), (-75.732233047, 38.732233047), (-75, 40.5))
            ThreePointArc((-75, 40.5), (-75.732233047, 42.267766953), (-77.5, 43))
        make_face()
        with BuildLine():
            Line((-80, 50.5), (-80, 43))
            Line((-80, 43), (-77.5, 43))
            ThreePointArc((-77.5, 43), (-75.732233047, 42.267766953), (-75, 40.5))
            Line((-75, 40.5), (-75, 50.5))
            ThreePointArc((-75, 50.5), (-77.5, 53), (-80, 50.5))
        make_face()
        with Locations((-87.5, 40.5)):
            Rectangle(SKETCH_17_W, SKETCH_17_H)
        with BuildLine():
            ThreePointArc((-97.5, 43), (-99.267766921, 42.267766985), (-100, 40.500000091))
            ThreePointArc((-100, 40.500000091), (-99.267766985, 38.732233079), (-97.5, 38))
            Line((-97.5, 38), (-95, 38))
            Line((-95, 38), (-95, 43))
            Line((-95, 43), (-97.5, 43))
        make_face()
        with BuildLine():
            ThreePointArc((-95, 50.5), (-97.5, 53), (-100, 50.5))
            Line((-100, 50.5), (-100, 40.500000091))
            ThreePointArc((-100, 40.500000091), (-99.267766921, 42.267766985), (-97.5, 43))
            Line((-97.5, 43), (-95, 43))
            Line((-95, 43), (-95, 50.5))
        make_face()
        with BuildLine():
            ThreePointArc((-97.5, 38), (-99.267766985, 38.732233079), (-100, 40.500000091))
            Line((-100, 40.500000091), (-100, 30.5))
            ThreePointArc((-100, 30.5), (-97.5, 28), (-95, 30.5))
            Line((-95, 30.5), (-95, 38))
            Line((-95, 38), (-97.5, 38))
        make_face()
        with Locations((-241.25, 46.75)):
            Rectangle(SKETCH_17_W_2, SKETCH_17_H_2)
        with BuildLine():
            Line((-242.5, 43), (-242.5, 50.5))
            Line((-242.5, 50.5), (-245, 50.5))
            Line((-245, 50.5), (-245, 40.5))
            ThreePointArc((-245, 40.5), (-244.267766953, 42.267766953), (-242.5, 43))
        make_face()
        with BuildLine():
            Line((-242.5, 50.5), (-240, 50.5))
            ThreePointArc((-240, 50.5), (-242.5, 53), (-245, 50.5))
            Line((-245, 50.5), (-242.5, 50.5))
        make_face()
        with Locations((-232.5, 41.75)):
            Rectangle(SKETCH_17_W, SKETCH_17_H_3)
        with Locations((-241.25, 41.75)):
            Rectangle(SKETCH_17_W_2, SKETCH_17_H_3)
        with BuildLine():
            Line((-242.5, 40.5), (-242.5, 43))
            ThreePointArc((-242.5, 43), (-244.267766953, 42.267766953), (-245, 40.5))
            Line((-245, 40.5), (-242.5, 40.5))
        make_face()
        with BuildLine():
            Line((-242.5, 40.5), (-245, 40.5))
            ThreePointArc((-245, 40.5), (-244.267766953, 38.732233047), (-242.5, 38))
            Line((-242.5, 38), (-242.5, 40.5))
        make_face()
        with Locations((-241.25, 39.25)):
            Rectangle(SKETCH_17_W_2, SKETCH_17_H_3)
        with Locations((-232.5, 39.25)):
            Rectangle(SKETCH_17_W, SKETCH_17_H_3)
        with Locations((-241.25, 34.25)):
            Rectangle(SKETCH_17_W_2, SKETCH_17_H_2)
        with BuildLine():
            ThreePointArc((-242.5, 38), (-244.267766953, 38.732233047), (-245, 40.5))
            Line((-245, 40.5), (-245, 30.5))
            Line((-245, 30.5), (-242.5, 30.5))
            Line((-242.5, 30.5), (-242.5, 38))
        make_face()
        with BuildLine():
            ThreePointArc((-245, 30.5), (-242.5, 28), (-240, 30.5))
            Line((-240, 30.5), (-242.5, 30.5))
            Line((-242.5, 30.5), (-245, 30.5))
        make_face()
        with BuildLine():
            ThreePointArc((-225, 30.5), (-222.5, 28), (-220, 30.5))
            Line((-220, 30.5), (-222.5, 30.5))
            Line((-222.5, 30.5), (-225, 30.5))
        make_face()
        with BuildLine():
            Line((-220, 30.5), (-220, 40.5))
            ThreePointArc((-220, 40.5), (-220.732233047, 38.732233047), (-222.5, 38))
            Line((-222.5, 38), (-222.5, 30.5))
            Line((-222.5, 30.5), (-220, 30.5))
        make_face()
        with Locations((-223.75, 34.25)):
            Rectangle(SKETCH_17_W_2, SKETCH_17_H_2)
        with Locations((-223.75, 39.25)):
            Rectangle(SKETCH_17_W_2, SKETCH_17_H_3)
        with BuildLine():
            ThreePointArc((-222.5, 38), (-220.732233047, 38.732233047), (-220, 40.5))
            Line((-220, 40.5), (-222.5, 40.5))
            Line((-222.5, 40.5), (-222.5, 38))
        make_face()
        with BuildLine():
            Line((-222.5, 40.5), (-220, 40.5))
            ThreePointArc((-220, 40.5), (-220.732233047, 42.267766953), (-222.5, 43))
            Line((-222.5, 43), (-222.5, 40.5))
        make_face()
        with Locations((-223.75, 41.75)):
            Rectangle(SKETCH_17_W_2, SKETCH_17_H_3)
        with Locations((-223.75, 46.75)):
            Rectangle(SKETCH_17_W_2, SKETCH_17_H_2)
        with BuildLine():
            Line((-220, 40.5), (-220, 50.5))
            Line((-220, 50.5), (-222.5, 50.5))
            Line((-222.5, 50.5), (-222.5, 43))
            ThreePointArc((-222.5, 43), (-220.732233047, 42.267766953), (-220, 40.5))
        make_face()
        with BuildLine():
            Line((-222.5, 50.5), (-220, 50.5))
            ThreePointArc((-220, 50.5), (-222.5, 53), (-225, 50.5))
            Line((-225, 50.5), (-222.5, 50.5))
        make_face()
    extrude(amount=-CUT_EXTRUDE_11_DEPTH, mode=Mode.SUBTRACT)

    # 草图18 → 凸台-拉伸4 (add)
    with BuildSketch(Plane(origin=(0, 0, 0), x_dir=(-1, 0, 0), z_dir=(0, 0, -1))):
        with Locations((-337.5, 71)):
            Rectangle(SKETCH_18_W, SKETCH_18_H)
        with Locations((17.5, 71)):
            Rectangle(SKETCH_18_W, SKETCH_18_H)
    extrude(amount=-EXTRUDE_4_DEPTH)

    # 草图19 → 切除-拉伸13 (cut)
    with BuildSketch(Plane.XY.offset(5)):
        with Locations((250, 71)):
            Rectangle(SKETCH_19_W, SKETCH_19_H)
    extrude(amount=-CUT_EXTRUDE_13_DEPTH, mode=Mode.SUBTRACT)

    # 草图20 → 切除-拉伸14 (cut)
    with BuildSketch(Plane.XY.offset(5)):
        with BuildLine():
            ThreePointArc((65.5, 75.5), (67.5, 73.5), (69.5, 75.5))
            Line((69.5, 75.5), (67.5, 75.5))
            Line((67.5, 75.5), (65.5, 75.5))
        make_face()
        with BuildLine():
            Line((67.5, 75.5), (69.5, 75.5))
            ThreePointArc((69.5, 75.5), (67.5, 77.5), (65.5, 75.5))
            Line((65.5, 75.5), (67.5, 75.5))
        make_face()
        with BuildLine():
            ThreePointArc((65.5, 50.5), (67.5, 48.5), (69.5, 50.5))
            Line((69.5, 50.5), (67.5, 50.5))
            Line((67.5, 50.5), (65.5, 50.5))
        make_face()
        with BuildLine():
            Line((67.5, 50.5), (69.5, 50.5))
            ThreePointArc((69.5, 50.5), (67.5, 52.5), (65.5, 50.5))
            Line((65.5, 50.5), (67.5, 50.5))
        make_face()
    extrude(amount=-CUT_EXTRUDE_14_DEPTH, mode=Mode.SUBTRACT)


solid = part.part
